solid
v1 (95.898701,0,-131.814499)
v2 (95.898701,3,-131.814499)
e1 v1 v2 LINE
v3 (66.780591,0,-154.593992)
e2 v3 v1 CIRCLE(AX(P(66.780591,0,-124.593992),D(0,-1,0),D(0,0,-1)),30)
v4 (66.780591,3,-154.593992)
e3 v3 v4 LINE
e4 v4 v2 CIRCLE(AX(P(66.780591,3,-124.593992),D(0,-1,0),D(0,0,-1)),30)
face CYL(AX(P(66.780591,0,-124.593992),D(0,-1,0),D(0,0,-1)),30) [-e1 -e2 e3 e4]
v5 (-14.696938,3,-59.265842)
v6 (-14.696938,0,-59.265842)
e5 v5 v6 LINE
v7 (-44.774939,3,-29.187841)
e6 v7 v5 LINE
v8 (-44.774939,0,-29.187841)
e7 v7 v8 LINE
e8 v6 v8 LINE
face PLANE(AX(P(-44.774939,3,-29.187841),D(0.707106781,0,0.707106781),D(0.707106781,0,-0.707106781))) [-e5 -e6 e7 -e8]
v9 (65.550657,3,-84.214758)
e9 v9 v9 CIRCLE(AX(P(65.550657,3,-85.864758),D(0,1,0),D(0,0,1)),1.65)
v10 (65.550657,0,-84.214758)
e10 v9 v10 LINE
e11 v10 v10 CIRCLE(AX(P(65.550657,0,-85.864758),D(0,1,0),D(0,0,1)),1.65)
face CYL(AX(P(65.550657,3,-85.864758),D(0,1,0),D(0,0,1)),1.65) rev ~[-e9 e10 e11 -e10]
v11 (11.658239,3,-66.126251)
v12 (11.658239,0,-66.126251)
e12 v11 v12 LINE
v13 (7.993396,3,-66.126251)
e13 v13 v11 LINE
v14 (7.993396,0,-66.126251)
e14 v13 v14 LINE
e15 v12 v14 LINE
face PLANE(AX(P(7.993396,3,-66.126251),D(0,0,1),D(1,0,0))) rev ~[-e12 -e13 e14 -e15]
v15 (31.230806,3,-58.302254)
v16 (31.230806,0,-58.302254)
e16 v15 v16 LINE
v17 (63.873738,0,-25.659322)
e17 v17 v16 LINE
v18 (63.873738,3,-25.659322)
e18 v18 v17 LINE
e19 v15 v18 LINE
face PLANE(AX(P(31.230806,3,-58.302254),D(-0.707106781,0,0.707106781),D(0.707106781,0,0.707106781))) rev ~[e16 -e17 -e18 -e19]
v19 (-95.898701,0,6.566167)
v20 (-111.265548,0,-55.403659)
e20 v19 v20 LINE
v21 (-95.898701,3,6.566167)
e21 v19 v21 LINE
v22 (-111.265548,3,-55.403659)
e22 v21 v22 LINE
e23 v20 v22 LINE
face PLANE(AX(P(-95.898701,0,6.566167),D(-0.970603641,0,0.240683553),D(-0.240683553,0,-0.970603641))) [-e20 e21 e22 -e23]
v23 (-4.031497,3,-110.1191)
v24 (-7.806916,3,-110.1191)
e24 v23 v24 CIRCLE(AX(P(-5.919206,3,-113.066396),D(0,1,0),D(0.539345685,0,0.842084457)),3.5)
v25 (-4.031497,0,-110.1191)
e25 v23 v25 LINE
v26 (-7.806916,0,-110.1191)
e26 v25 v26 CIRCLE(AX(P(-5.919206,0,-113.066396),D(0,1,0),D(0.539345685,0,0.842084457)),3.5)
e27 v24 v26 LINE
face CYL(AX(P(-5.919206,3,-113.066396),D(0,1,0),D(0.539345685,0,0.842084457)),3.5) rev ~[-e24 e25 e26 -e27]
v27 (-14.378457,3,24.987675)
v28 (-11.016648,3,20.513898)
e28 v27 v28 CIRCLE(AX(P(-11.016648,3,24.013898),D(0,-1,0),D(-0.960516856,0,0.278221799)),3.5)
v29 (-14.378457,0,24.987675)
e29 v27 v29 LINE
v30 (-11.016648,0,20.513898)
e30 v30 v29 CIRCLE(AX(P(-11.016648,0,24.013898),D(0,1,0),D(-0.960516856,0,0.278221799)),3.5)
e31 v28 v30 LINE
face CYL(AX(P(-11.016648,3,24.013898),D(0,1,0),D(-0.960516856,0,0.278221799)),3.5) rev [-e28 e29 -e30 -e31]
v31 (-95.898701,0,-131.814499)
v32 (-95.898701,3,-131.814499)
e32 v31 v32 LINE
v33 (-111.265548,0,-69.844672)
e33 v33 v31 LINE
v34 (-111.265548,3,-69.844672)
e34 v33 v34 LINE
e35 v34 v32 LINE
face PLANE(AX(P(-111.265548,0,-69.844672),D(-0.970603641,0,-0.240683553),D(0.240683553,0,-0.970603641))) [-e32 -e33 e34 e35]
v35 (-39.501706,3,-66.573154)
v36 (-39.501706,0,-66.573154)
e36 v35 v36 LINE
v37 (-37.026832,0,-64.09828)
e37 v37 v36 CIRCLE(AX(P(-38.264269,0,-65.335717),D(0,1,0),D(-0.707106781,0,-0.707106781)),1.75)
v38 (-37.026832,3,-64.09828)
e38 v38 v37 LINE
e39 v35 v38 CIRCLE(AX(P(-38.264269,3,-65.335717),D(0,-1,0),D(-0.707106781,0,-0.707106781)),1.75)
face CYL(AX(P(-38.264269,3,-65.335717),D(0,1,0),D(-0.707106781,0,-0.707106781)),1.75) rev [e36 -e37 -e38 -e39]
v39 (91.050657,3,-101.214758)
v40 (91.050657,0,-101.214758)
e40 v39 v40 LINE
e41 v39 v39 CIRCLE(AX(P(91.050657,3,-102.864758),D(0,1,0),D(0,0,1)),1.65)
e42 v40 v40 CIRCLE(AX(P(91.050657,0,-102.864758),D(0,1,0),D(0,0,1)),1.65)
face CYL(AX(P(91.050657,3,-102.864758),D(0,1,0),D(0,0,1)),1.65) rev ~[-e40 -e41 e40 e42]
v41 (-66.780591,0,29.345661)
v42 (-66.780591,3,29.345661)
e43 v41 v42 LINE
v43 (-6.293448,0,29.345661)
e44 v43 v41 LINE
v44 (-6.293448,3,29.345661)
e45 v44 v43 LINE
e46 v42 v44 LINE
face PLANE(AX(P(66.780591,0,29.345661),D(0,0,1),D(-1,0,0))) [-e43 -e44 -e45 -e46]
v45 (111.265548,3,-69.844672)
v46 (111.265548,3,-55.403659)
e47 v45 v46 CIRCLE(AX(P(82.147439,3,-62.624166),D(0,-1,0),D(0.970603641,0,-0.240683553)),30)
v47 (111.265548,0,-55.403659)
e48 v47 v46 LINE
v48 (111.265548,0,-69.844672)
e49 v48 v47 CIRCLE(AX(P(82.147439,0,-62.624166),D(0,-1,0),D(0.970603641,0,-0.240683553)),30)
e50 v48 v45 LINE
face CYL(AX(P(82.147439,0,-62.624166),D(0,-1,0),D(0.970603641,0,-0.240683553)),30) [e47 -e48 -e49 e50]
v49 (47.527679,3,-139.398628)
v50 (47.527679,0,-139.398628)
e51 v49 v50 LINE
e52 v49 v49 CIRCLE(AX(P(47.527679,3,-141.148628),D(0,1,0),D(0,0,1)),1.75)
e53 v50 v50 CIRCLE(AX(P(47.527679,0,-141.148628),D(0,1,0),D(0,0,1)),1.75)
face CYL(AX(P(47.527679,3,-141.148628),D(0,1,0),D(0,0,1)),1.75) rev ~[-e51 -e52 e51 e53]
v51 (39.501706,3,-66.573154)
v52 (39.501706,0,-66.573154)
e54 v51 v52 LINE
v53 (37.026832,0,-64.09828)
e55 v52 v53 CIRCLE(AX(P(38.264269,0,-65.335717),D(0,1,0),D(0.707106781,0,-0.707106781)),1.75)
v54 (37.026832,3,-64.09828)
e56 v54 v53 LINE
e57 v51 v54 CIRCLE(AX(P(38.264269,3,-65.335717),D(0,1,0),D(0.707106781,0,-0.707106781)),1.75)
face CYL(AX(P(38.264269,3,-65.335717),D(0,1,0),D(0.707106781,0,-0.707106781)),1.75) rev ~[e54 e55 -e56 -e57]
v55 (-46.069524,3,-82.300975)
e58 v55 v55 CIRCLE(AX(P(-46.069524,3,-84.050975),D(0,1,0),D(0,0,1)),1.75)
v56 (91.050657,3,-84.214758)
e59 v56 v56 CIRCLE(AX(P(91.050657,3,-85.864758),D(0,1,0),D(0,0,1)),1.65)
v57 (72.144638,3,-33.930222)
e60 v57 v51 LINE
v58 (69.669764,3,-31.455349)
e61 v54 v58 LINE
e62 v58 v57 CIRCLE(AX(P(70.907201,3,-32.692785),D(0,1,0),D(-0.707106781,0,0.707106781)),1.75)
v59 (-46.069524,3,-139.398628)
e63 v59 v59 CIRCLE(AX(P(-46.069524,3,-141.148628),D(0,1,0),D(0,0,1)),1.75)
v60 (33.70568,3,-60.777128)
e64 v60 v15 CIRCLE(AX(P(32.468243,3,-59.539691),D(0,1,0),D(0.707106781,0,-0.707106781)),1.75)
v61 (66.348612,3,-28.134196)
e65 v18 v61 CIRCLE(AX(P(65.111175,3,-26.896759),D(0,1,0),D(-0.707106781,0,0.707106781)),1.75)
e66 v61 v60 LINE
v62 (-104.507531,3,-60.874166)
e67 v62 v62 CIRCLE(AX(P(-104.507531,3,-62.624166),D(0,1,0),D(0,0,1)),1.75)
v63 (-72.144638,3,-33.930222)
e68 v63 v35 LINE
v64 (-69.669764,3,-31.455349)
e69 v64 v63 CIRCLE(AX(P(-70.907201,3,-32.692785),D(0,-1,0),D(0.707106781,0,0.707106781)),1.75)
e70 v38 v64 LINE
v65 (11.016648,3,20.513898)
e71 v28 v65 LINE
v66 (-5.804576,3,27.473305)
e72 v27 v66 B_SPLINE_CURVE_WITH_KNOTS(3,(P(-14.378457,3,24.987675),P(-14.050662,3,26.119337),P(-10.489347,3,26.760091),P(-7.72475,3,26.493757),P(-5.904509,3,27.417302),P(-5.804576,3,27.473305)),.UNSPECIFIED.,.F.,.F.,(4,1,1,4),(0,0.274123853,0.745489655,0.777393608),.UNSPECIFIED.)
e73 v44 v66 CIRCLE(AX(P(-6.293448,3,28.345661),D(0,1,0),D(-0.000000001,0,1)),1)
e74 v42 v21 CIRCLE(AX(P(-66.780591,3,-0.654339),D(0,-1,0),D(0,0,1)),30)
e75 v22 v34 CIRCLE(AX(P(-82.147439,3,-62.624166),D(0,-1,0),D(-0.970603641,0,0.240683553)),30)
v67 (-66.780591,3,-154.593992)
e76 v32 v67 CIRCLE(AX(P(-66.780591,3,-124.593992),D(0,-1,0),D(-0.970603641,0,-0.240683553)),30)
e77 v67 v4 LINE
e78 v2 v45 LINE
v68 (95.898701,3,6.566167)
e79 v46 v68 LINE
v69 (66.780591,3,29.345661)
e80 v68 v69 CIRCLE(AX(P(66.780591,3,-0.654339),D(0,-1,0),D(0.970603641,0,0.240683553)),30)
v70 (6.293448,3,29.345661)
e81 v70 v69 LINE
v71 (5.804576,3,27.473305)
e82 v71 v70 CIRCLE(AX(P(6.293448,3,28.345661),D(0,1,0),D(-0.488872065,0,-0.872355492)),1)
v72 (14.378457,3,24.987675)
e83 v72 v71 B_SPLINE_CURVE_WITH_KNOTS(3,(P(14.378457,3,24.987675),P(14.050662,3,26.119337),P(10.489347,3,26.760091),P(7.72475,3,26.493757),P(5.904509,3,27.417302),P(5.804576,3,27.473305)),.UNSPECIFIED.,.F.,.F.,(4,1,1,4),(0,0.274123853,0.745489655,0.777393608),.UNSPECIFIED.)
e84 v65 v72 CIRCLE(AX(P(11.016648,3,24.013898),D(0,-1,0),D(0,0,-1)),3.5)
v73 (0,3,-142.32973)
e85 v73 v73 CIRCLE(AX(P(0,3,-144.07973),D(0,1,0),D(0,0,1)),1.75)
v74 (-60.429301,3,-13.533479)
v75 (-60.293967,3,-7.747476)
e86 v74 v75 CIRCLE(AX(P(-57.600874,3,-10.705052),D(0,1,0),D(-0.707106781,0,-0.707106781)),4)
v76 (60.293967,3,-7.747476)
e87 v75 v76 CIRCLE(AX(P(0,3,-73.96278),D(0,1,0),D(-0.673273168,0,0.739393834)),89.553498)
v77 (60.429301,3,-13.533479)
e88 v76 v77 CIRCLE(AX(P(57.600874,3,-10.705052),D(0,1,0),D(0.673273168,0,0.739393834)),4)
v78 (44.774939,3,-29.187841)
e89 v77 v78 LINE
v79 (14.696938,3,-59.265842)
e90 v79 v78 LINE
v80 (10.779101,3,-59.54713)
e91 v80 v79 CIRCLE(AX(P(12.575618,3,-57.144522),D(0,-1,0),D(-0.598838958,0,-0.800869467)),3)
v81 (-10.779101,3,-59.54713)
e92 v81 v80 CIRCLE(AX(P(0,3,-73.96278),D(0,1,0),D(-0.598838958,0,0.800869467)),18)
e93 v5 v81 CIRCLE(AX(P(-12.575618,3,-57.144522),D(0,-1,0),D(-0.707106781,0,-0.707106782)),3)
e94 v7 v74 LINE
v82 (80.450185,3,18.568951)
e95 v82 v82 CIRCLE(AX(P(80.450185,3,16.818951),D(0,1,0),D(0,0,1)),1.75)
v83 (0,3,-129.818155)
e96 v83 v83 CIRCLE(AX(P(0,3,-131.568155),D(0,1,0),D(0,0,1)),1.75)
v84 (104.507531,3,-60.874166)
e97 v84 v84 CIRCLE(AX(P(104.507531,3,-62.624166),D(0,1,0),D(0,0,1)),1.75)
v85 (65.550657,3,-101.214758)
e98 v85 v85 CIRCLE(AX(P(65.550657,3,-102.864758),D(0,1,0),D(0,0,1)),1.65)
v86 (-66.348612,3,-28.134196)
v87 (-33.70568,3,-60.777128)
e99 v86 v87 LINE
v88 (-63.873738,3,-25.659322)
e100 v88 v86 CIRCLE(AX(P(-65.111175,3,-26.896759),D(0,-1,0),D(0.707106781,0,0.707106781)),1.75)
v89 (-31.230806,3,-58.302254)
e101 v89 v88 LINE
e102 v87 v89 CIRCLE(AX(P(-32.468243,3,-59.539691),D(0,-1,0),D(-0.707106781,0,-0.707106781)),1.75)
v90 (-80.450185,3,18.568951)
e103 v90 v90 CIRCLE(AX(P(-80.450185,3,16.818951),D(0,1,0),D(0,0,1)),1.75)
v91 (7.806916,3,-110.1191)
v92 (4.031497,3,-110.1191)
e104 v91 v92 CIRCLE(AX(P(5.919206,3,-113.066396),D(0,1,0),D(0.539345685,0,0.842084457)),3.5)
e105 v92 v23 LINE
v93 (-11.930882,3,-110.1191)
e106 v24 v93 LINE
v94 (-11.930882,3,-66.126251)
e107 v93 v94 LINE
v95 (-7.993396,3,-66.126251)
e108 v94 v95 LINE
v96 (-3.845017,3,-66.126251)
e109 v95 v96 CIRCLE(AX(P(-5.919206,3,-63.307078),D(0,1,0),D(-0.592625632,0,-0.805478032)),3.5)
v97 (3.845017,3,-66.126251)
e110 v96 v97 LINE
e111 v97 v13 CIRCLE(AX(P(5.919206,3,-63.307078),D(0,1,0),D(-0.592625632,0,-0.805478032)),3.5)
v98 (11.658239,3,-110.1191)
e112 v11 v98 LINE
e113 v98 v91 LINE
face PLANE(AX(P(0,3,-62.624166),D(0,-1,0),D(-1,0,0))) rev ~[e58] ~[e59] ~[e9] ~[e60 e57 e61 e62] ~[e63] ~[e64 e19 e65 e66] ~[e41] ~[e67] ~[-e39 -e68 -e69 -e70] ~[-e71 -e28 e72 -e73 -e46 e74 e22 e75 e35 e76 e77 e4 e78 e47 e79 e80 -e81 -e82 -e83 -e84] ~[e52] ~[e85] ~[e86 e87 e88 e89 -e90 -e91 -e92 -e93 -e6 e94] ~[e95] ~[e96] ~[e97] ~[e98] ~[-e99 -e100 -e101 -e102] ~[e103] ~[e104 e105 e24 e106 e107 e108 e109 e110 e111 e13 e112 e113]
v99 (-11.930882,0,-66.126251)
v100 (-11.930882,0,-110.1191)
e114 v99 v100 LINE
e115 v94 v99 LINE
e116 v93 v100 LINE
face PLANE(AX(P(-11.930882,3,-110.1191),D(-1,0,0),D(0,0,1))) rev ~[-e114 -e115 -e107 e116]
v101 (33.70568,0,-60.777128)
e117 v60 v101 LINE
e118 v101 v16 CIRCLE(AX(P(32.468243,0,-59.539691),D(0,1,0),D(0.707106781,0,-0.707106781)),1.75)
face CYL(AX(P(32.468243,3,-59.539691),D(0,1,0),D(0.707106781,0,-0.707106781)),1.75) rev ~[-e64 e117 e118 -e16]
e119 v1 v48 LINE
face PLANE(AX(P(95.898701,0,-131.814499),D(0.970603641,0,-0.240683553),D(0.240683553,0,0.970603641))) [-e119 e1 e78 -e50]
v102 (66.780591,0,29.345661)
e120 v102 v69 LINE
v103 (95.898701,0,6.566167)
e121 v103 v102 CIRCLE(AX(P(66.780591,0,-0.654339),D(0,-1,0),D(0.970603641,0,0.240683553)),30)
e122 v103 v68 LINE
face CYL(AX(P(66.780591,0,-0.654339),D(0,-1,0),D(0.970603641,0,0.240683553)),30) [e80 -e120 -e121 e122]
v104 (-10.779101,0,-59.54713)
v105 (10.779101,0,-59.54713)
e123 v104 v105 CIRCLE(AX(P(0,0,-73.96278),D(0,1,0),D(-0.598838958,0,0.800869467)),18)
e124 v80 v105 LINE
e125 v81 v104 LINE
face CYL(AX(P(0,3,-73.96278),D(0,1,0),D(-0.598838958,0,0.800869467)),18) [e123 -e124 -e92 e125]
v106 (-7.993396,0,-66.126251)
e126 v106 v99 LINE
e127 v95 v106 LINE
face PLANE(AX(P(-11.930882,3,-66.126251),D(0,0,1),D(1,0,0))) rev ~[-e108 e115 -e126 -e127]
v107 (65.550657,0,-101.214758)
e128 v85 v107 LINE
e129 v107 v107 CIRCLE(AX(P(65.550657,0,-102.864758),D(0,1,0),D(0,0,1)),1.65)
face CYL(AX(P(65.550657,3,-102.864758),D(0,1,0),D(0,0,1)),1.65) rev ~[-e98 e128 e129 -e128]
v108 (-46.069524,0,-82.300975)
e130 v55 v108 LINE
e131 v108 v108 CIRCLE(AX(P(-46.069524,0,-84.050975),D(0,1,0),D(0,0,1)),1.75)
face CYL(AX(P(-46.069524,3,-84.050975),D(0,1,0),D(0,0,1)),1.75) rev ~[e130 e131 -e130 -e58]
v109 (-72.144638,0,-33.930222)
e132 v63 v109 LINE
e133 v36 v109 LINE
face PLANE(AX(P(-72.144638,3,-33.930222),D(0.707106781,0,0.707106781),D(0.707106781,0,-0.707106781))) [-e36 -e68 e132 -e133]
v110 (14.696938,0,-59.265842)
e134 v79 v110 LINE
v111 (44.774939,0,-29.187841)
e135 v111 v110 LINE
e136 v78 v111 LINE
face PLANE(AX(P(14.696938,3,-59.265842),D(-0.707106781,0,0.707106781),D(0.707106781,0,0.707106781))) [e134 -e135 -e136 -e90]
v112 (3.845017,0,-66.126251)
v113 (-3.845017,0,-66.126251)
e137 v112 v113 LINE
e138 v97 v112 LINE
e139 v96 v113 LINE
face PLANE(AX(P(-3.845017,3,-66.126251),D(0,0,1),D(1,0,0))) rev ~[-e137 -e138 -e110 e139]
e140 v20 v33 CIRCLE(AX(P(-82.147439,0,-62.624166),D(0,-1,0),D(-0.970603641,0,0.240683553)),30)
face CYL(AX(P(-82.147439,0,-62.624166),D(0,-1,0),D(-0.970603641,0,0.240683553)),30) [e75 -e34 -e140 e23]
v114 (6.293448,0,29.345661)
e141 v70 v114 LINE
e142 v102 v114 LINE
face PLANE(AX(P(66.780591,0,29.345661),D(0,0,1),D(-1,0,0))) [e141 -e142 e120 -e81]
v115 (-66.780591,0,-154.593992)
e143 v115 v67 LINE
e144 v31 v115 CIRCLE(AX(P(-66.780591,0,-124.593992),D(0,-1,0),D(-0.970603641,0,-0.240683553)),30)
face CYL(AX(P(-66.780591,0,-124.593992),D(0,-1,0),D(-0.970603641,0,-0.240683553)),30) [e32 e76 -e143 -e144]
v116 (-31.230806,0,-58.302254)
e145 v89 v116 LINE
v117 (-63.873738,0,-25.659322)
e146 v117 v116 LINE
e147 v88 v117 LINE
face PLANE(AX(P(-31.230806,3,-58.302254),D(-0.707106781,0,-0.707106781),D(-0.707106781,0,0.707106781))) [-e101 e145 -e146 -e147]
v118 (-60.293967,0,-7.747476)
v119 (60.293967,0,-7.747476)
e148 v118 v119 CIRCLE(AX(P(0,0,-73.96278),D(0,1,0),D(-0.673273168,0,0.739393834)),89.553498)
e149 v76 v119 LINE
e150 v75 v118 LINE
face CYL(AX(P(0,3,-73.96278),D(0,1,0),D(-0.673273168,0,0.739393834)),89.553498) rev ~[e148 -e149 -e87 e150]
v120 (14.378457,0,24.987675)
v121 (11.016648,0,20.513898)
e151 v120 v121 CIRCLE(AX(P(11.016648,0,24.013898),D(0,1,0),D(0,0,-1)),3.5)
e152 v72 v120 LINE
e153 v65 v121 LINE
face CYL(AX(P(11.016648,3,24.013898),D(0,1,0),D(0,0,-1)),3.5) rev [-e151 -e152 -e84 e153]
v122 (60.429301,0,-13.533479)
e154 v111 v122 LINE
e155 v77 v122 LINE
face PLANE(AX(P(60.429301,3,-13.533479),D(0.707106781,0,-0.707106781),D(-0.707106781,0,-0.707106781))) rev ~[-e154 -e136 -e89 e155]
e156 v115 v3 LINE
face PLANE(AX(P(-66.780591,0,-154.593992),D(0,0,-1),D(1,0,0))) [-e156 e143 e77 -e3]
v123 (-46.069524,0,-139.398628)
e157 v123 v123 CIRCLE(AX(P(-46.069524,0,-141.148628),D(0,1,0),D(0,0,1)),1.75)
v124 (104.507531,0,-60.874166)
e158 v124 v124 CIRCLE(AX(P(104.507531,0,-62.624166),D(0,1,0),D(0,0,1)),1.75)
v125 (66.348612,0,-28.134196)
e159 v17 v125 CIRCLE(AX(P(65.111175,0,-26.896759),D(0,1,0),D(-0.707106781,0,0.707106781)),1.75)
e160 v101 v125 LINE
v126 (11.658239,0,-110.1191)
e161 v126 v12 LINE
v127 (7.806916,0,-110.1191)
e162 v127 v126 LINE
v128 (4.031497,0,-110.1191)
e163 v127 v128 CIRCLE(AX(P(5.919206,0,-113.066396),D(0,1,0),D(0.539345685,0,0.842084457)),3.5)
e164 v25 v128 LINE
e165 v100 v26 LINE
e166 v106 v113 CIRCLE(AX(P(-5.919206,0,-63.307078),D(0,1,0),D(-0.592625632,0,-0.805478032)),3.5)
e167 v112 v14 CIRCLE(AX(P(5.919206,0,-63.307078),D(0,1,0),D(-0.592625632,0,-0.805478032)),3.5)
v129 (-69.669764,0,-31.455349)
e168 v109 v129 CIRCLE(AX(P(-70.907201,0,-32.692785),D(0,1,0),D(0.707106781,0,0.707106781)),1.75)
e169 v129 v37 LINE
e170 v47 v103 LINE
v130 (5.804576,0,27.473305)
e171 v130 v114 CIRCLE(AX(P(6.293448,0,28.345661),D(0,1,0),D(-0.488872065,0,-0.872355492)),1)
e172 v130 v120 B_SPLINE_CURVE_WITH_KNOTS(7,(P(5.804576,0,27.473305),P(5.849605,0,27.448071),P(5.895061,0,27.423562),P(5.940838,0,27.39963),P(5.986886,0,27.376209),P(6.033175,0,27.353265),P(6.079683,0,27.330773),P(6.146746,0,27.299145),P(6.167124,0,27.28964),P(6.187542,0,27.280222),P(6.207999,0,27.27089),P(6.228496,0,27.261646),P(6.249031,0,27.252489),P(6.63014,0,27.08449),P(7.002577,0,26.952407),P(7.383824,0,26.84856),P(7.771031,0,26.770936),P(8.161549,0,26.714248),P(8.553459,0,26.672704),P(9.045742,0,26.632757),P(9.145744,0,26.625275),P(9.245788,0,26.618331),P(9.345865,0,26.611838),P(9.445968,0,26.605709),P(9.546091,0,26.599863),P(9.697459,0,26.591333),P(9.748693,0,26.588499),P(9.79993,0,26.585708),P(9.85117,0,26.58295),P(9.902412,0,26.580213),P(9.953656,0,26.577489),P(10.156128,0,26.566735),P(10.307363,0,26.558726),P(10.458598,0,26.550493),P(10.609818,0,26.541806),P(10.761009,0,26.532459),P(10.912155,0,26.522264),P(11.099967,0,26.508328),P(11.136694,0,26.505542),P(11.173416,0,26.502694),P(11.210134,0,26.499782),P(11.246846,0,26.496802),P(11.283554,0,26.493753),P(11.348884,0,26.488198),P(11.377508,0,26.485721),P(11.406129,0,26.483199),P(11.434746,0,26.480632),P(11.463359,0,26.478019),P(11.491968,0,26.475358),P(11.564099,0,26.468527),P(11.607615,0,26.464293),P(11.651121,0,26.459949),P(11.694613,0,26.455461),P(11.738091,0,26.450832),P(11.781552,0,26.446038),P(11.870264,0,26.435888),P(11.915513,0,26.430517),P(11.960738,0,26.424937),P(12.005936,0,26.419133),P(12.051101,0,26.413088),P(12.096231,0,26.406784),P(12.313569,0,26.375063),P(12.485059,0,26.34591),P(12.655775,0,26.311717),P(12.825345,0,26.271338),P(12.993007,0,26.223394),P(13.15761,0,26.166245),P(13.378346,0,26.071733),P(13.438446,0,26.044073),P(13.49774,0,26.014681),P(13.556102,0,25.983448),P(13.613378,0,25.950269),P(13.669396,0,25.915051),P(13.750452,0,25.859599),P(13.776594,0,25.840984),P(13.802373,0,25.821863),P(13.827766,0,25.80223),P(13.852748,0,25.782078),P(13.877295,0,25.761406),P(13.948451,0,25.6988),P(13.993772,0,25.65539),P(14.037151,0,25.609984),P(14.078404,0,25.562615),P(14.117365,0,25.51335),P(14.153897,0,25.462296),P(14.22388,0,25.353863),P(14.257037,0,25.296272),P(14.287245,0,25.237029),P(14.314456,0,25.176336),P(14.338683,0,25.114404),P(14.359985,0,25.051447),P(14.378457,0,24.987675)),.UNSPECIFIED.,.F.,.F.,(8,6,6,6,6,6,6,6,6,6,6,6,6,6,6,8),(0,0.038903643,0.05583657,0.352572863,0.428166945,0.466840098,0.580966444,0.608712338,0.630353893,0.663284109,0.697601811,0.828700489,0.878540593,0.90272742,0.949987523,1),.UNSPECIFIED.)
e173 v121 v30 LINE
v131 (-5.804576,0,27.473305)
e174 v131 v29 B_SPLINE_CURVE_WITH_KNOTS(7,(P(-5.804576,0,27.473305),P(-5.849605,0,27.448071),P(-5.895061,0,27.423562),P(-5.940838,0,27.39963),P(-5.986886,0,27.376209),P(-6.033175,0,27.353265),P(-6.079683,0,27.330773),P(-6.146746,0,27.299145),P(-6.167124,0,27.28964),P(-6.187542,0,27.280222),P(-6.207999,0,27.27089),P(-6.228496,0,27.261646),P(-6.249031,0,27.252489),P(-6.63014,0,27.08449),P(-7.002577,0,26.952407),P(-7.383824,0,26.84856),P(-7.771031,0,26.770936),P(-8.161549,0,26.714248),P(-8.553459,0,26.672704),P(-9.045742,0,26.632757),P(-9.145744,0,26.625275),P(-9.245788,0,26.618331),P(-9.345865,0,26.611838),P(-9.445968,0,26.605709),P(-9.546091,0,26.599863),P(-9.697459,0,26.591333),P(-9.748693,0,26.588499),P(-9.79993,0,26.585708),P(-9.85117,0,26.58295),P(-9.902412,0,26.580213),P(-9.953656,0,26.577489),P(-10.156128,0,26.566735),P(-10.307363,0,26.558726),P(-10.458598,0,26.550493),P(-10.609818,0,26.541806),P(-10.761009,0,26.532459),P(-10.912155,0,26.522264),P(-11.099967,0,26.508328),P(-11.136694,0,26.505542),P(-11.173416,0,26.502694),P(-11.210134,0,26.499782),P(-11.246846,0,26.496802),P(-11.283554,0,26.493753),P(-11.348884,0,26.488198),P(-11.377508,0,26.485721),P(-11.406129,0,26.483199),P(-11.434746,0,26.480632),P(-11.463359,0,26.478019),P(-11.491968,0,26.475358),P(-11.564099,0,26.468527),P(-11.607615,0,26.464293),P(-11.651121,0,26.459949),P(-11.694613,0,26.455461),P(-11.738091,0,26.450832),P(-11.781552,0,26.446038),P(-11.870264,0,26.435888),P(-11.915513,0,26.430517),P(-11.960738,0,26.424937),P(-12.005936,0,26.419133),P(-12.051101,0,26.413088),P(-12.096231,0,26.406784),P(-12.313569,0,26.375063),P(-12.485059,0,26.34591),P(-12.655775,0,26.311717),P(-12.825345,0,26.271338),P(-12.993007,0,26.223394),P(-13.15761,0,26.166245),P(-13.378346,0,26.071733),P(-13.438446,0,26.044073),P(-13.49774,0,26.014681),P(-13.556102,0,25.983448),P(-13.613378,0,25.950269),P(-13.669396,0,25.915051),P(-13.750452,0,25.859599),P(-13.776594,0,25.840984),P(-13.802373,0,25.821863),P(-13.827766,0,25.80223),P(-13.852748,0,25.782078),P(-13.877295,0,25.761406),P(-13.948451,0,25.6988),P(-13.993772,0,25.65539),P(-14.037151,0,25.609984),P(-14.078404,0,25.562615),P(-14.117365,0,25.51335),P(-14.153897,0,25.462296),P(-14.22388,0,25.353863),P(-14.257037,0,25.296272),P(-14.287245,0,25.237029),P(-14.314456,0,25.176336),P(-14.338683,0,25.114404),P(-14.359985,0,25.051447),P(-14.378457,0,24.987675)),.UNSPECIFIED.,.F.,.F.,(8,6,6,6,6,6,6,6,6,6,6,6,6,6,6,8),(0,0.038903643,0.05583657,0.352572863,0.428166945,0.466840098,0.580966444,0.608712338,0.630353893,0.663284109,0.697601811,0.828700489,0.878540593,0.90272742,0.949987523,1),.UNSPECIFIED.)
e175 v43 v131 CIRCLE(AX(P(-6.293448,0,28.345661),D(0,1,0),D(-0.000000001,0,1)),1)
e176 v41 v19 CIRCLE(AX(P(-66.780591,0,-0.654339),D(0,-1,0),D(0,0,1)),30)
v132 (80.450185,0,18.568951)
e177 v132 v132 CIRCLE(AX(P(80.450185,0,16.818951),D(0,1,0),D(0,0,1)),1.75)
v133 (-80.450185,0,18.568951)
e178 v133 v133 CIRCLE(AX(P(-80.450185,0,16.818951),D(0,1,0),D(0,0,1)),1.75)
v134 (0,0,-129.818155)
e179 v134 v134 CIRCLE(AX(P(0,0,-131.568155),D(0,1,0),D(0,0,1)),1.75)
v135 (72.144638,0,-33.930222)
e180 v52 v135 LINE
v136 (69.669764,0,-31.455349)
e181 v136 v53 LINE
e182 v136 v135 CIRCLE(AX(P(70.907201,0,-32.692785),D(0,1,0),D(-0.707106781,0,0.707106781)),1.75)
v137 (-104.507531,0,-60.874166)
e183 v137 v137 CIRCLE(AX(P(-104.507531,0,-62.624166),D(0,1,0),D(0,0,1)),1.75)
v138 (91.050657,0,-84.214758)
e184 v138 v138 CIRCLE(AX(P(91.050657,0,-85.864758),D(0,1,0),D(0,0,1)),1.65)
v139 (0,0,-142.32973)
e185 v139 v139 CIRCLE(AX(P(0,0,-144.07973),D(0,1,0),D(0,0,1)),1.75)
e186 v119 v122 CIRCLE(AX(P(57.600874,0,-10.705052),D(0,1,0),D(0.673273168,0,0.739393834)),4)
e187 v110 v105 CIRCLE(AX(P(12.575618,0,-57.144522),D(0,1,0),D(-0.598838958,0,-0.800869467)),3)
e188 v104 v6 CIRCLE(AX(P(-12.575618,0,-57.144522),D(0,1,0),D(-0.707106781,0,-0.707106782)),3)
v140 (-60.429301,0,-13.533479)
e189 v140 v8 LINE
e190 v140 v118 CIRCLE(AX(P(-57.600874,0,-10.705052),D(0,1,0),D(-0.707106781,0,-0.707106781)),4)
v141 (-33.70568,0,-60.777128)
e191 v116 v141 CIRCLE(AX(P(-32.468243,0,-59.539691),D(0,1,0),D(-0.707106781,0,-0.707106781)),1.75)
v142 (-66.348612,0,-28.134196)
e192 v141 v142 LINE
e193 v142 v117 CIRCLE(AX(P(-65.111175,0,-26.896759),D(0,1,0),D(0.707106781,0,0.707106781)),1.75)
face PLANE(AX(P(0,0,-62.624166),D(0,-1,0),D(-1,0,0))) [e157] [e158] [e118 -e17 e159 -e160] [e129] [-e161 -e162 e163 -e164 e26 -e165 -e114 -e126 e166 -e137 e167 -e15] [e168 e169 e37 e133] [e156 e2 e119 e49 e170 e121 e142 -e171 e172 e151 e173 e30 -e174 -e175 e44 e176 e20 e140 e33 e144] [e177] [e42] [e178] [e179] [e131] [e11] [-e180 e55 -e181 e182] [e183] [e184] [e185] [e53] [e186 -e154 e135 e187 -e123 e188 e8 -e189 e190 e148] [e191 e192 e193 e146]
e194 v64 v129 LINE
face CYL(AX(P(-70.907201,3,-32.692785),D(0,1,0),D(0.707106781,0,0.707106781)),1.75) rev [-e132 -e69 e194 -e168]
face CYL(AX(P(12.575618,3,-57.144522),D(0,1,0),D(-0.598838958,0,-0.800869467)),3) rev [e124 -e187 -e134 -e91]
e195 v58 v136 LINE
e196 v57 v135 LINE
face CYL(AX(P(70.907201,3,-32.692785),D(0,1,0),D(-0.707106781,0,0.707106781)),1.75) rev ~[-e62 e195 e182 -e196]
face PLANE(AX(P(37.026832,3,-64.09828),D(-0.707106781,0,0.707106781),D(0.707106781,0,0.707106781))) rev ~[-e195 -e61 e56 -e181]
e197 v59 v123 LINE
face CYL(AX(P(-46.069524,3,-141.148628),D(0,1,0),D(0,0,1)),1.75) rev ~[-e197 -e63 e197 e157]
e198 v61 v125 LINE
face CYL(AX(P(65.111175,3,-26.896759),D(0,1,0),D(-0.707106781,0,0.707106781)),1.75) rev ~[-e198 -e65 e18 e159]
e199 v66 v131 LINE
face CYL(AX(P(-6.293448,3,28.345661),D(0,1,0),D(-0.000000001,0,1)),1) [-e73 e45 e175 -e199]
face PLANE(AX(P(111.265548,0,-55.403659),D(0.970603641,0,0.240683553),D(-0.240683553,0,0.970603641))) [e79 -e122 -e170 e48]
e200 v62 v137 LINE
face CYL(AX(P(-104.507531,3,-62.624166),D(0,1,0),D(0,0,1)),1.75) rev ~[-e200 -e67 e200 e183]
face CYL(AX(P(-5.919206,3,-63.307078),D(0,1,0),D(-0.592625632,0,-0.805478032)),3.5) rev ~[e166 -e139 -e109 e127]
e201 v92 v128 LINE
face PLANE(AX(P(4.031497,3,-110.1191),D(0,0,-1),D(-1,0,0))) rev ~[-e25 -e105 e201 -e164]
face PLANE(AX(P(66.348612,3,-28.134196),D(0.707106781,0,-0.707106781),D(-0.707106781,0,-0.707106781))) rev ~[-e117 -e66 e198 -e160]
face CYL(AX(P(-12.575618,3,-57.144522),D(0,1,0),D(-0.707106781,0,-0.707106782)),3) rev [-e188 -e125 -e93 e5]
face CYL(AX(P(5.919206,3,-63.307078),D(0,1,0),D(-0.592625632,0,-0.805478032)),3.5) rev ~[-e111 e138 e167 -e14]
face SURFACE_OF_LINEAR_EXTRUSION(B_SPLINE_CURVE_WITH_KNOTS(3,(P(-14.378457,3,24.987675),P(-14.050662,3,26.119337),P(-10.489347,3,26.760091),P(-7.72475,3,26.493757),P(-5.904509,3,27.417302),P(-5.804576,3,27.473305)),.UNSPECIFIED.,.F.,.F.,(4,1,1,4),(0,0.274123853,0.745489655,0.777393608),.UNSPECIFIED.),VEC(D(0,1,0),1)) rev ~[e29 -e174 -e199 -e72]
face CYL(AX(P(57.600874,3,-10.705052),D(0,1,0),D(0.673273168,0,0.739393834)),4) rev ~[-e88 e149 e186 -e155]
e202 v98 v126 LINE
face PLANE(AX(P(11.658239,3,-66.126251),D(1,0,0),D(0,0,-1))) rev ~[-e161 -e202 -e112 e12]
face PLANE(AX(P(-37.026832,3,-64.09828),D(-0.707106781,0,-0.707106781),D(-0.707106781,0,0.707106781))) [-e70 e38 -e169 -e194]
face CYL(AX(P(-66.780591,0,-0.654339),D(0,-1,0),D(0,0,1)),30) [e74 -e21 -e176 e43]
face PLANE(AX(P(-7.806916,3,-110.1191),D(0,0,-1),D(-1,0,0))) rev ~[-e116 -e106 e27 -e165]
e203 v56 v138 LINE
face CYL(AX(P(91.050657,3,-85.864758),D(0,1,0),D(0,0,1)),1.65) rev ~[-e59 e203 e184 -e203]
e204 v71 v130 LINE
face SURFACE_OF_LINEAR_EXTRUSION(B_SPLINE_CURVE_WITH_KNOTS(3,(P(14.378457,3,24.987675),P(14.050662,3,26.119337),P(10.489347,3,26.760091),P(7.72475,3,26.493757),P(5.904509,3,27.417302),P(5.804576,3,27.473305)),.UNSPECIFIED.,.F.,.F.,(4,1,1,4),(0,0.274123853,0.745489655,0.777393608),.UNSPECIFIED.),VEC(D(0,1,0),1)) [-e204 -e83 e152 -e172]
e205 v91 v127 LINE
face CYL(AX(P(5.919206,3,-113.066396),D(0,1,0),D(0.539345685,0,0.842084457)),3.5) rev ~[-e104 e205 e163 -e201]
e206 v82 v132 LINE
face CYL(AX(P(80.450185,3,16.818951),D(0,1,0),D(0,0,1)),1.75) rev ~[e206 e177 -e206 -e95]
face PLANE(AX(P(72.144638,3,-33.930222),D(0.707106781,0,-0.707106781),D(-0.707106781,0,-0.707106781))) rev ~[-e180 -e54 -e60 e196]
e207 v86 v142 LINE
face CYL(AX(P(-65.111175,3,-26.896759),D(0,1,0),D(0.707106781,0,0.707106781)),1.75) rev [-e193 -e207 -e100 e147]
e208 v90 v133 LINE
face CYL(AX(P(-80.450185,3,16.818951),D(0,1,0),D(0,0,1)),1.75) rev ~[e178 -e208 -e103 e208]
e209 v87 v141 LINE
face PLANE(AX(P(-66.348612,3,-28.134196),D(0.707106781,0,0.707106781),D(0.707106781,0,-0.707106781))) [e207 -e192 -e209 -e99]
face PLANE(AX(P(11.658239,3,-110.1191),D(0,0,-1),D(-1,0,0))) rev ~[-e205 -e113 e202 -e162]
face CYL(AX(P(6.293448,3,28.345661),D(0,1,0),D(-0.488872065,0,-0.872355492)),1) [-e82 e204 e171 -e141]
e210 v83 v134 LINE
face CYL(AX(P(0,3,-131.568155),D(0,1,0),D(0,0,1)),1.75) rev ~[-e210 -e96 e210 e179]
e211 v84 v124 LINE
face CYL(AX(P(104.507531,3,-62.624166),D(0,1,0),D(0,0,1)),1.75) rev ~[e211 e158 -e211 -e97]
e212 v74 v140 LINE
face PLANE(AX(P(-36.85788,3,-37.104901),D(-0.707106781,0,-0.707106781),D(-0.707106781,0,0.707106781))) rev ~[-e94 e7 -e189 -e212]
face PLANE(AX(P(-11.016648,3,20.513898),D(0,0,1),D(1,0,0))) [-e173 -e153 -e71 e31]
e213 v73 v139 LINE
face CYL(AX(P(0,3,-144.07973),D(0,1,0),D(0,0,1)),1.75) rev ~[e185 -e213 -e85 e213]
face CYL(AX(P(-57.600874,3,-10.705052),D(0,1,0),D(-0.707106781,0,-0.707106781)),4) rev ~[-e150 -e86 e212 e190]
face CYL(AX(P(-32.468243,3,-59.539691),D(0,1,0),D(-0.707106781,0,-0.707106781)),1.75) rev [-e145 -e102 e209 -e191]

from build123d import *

# Parameters (mm, degrees)
EXTRUDE_1_DEPTH      = 3
SKETCH_2_R           = 1.75
CUT_EXTRUDE_1_DEPTH  = 10
CUT_EXTRUDE_2_DEPTH  = 10
CUT_EXTRUDE_3_DEPTH  = 10
SKETCH_5_R           = 1.75
CUT_EXTRUDE_4_DEPTH  = 10
SKETCH_6_R           = 1.65
CUT_EXTRUDE_5_DEPTH  = 10
CUT_EXTRUDE_8_DEPTH  = 10
CUT_EXTRUDE_9_DEPTH  = 10
CUT_EXTRUDE_10_DEPTH = 10


with BuildPart() as part:
    # 草图1 → 凸台-拉伸1 (new body)
    with BuildSketch(Plane(origin=(0, 0, 0), x_dir=(1, 0, 0), z_dir=(0, 1, 0))):
        with BuildLine():
            Line((-66.78059141, 154.593992167), (66.78059141, 154.593992167))
            ThreePointArc((66.78059141, 154.593992167), (85.265515034, 148.222525736), (95.898700635, 131.814498742))
            Line((95.898700635, 131.814498742), (111.265547961, 69.844672358))
            ThreePointArc((111.265547961, 69.844672358), (112.147438737, 62.624165782), (111.265547961, 55.403659207))
            Line((111.265547961, 55.403659207), (95.898700635, -6.566167178))
            ThreePointArc((95.898700635, -6.566167178), (85.265515034, -22.974194171), (66.78059141, -29.345660602))
            Line((66.78059141, -29.345660602), (-66.78059141, -29.345660602))
            ThreePointArc((-66.78059141, -29.345660602), (-85.265515034, -22.974194171), (-95.898700635, -6.566167178))
            Line((-95.898700635, -6.566167178), (-111.265547961, 55.403659207))
            ThreePointArc((-111.265547961, 55.403659207), (-112.147438737, 62.624165782), (-111.265547961, 69.844672358))
            Line((-111.265547961, 69.844672358), (-95.898700635, 131.814498742))
            ThreePointArc((-95.898700635, 131.814498742), (-85.265515034, 148.222525736), (-66.78059141, 154.593992167))
        make_face()
    extrude(amount=EXTRUDE_1_DEPTH)

    # 草图2 → 切除-拉伸1 (cut)
    with BuildSketch(Plane(origin=(0, 3, 0), x_dir=(1, 0, 0), z_dir=(0, 1, 0))):
        with Locations(Location((104.507530951, 62.624165782, 0), (0, 0, 270))):
            Circle(SKETCH_2_R)
        with Locations(Location((80.450184708, -16.818951307, 0), (0, 0, 270))):
            Circle(SKETCH_2_R)
        with Locations(Location((-80.450184708, -16.818951307, 0), (0, 0, 270))):
            Circle(SKETCH_2_R)
        with Locations(Location((-104.507530951, 62.624165782, 0), (0, 0, 270))):
            Circle(SKETCH_2_R)
        with Locations(Location((0, 144.079729864, 0), (0, 0, 270))):
            Circle(SKETCH_2_R)
        with Locations(Location((0, 131.568155221, 0), (0, 0, 270))):
            Circle(SKETCH_2_R)
    extrude(amount=-CUT_EXTRUDE_1_DEPTH, mode=Mode.SUBTRACT)

    # 草图3 → 切除-拉伸2 (cut)
    with BuildSketch(Plane(origin=(0, 3, 0), x_dir=(1, 0, 0), z_dir=(0, 1, 0))):
        with BuildLine():
            Line((14.696938457, 59.265841846), (44.774939174, 29.187841128))
            ThreePointArc((44.774939174, 29.187841128), (45.652778395, 26.995514412), (44.672172354, 24.847187174))
            ThreePointArc((44.672172354, 24.847187174), (0, 7.570427798), (-44.672172354, 24.847187174))
            ThreePointArc((-44.672172354, 24.847187174), (-45.652778395, 26.995514412), (-44.774939174, 29.187841128))
            Line((-44.774939174, 29.187841128), (-14.696938457, 59.265841846))
            ThreePointArc((-14.696938457, 59.265841846), (-12.790455415, 60.136819103), (-10.77910124, 59.547129902))
            ThreePointArc((-10.77910124, 59.547129902), (0, 55.962780302), (10.77910124, 59.547129902))
            ThreePointArc((10.77910124, 59.547129902), (12.790455415, 60.136819103), (14.696938457, 59.265841846))
        make_face()
    extrude(amount=-CUT_EXTRUDE_2_DEPTH, mode=Mode.SUBTRACT)

    # 草图4 → 切除-拉伸3 (cut)
    with BuildSketch(Plane(origin=(0, 3, 0), x_dir=(1, 0, 0), z_dir=(0, 1, 0))):
        with BuildLine():
            Line((-36.857879598, 37.104900704), (-60.429301447, 13.533478855))
            ThreePointArc((-60.429301447, 13.533478855), (-61.599780589, 10.611517412), (-60.293966994, 7.747476395))
            ThreePointArc((-60.293966994, 7.747476395), (0, -15.59071727), (60.293966994, 7.747476395))
            ThreePointArc((60.293966994, 7.747476395), (61.599780589, 10.611517412), (60.429301447, 13.533478855))
            Line((60.429301447, 13.533478855), (36.857879598, 37.104900704))
            Line((36.857879598, 37.104900704), (-36.857879598, 37.104900704))
        make_face()
    extrude(amount=-CUT_EXTRUDE_3_DEPTH, mode=Mode.SUBTRACT)

    # 草图5 → 切除-拉伸4 (cut)
    with BuildSketch(Plane(origin=(0, 3, 0), x_dir=(1, 0, 0), z_dir=(0, 1, 0))):
        with Locations(Location((47.527679448, 141.148627896, 0), (0, 0, 270))):
            Circle(SKETCH_5_R)
        with Locations(Location((-46.069524323, 84.050974576, 0), (0, 0, 270))):
            Circle(SKETCH_5_R)
        with Locations(Location((-46.069524323, 141.148627896, 0), (0, 0, 270))):
            Circle(SKETCH_5_R)
    extrude(amount=-CUT_EXTRUDE_4_DEPTH, mode=Mode.SUBTRACT)

    # 草图6 → 切除-拉伸5 (cut)
    with BuildSketch(Plane(origin=(0, 3, 0), x_dir=(1, 0, 0), z_dir=(0, 1, 0))):
        with Locations(Location((65.550657258, 102.864758009, 0), (0, 0, 270))):
            Circle(SKETCH_6_R)
        with Locations(Location((91.050657258, 102.864758009, 0), (0, 0, 270))):
            Circle(SKETCH_6_R)
        with Locations(Location((91.050657258, 85.864758009, 0), (0, 0, 270))):
            Circle(SKETCH_6_R)
        with Locations(Location((65.550657258, 85.864758009, 0), (0, 0, 270))):
            Circle(SKETCH_6_R)
    extrude(amount=-CUT_EXTRUDE_5_DEPTH, mode=Mode.SUBTRACT)

    # 草图7 → 切除-拉伸8 (cut)
    with BuildSketch(Plane(origin=(0, 3, 0), x_dir=(1, 0, 0), z_dir=(0, 1, 0))):
        with BuildLine():
            Line((-11.016648097, -20.513898252), (11.016648097, -20.513898252))
            ThreePointArc((11.016648097, -20.513898252), (13.814702514, -21.911306641), (14.378457093, -24.987674549))
            add(Edge.make_bspline(
                [(14.378457093, -24.987674549), (14.050661547, -26.11933694), (10.489346867, -26.76009099), (7.724749574, -26.493757466), (5.904508816, -27.417302496), (5.804576355, -27.473305111)],
                knots=[0, 0, 0, 0, 0.274123853, 0.745489655, 0.777393608, 0.777393608, 0.777393608, 0.777393608], degree=3))
            ThreePointArc((5.804576355, -27.473305111), (5.325885634, -28.59829127), (6.293448421, -29.345660602))
            Line((6.293448421, -29.345660602), (8.755585002, -29.345660602))
            Line((8.755585002, -29.345660602), (8.755585002, -31.412448424))
            Line((8.755585002, -31.412448424), (-8.755585002, -31.412448424))
            Line((-8.755585002, -31.412448424), (-8.755585002, -29.804465611))
            Line((-8.755585002, -29.804465611), (-8.755585002, -29.345660602))
            Line((-8.755585002, -29.345660602), (-6.293448421, -29.345660602))
            ThreePointArc((-6.293448421, -29.345660602), (-5.325885634, -28.59829127), (-5.804576355, -27.473305111))
            add(Edge.make_bspline(
                [(-14.378457093, -24.987674549), (-14.050661547, -26.11933694), (-10.489346867, -26.76009099), (-7.724749574, -26.493757466), (-5.904508816, -27.417302496), (-5.804576355, -27.473305111)],
                knots=[0, 0, 0, 0, 0.274123853, 0.745489655, 0.777393608, 0.777393608, 0.777393608, 0.777393608], degree=3))
            ThreePointArc((-14.378457093, -24.987674549), (-13.814702514, -21.911306641), (-11.016648097, -20.513898252))
        make_face()
    extrude(amount=-CUT_EXTRUDE_8_DEPTH, mode=Mode.SUBTRACT)

    # 草图8 → 切除-拉伸9 (cut)
    with BuildSketch(Plane(origin=(0, 3, 0), x_dir=(1, 0, 0), z_dir=(0, 1, 0))):
        with BuildLine():
            Line((-31.230806012, 58.302254227), (-63.873737866, 25.659322373))
            ThreePointArc((-63.873737866, 25.659322373), (-66.3486116, 25.659322373), (-66.3486116, 28.134196107))
            Line((-66.3486116, 28.134196107), (-33.705679746, 60.777127961))
            ThreePointArc((-33.705679746, 60.777127961), (-31.230806012, 60.777127961), (-31.230806012, 58.302254227))
        make_face()
        with BuildLine():
            Line((-37.026832233, 64.098280448), (-69.669764087, 31.455348594))
            ThreePointArc((-69.669764087, 31.455348594), (-72.144637821, 31.455348594), (-72.144637821, 33.930222328))
            Line((-72.144637821, 33.930222328), (-39.501705967, 66.573154182))
            ThreePointArc((-39.501705967, 66.573154182), (-37.026832233, 66.573154182), (-37.026832233, 64.098280448))
        make_face()
        with BuildLine():
            Line((37.026832233, 64.098280448), (69.669764087, 31.455348594))
            ThreePointArc((69.669764087, 31.455348594), (72.144637821, 31.455348594), (72.144637821, 33.930222328))
            Line((72.144637821, 33.930222328), (39.501705967, 66.573154182))
            ThreePointArc((39.501705967, 66.573154182), (37.026832233, 66.573154182), (37.026832233, 64.098280448))
        make_face()
        with BuildLine():
            Line((31.230806012, 58.302254227), (63.873737866, 25.659322373))
            ThreePointArc((63.873737866, 25.659322373), (66.3486116, 25.659322373), (66.3486116, 28.134196107))
            Line((66.3486116, 28.134196107), (33.705679746, 60.777127961))
            ThreePointArc((33.705679746, 60.777127961), (31.230806012, 60.777127961), (31.230806012, 58.302254227))
        make_face()
    extrude(amount=-CUT_EXTRUDE_9_DEPTH, mode=Mode.SUBTRACT)

    # 草图9 → 切除-拉伸10 (cut)
    with BuildSketch(Plane(origin=(0, 3, 0), x_dir=(1, 0, 0), z_dir=(0, 1, 0))):
        with BuildLine():
            Line((-3.845016723, 66.126250856), (3.845016723, 66.126250856))
            ThreePointArc((3.845016723, 66.126250856), (5.919206434, 59.807077742), (7.993396144, 66.126250856))
            Line((7.993396144, 66.126250856), (11.658238607, 66.126250856))
            Line((11.658238607, 66.126250856), (11.658238607, 110.119100398))
            Line((11.658238607, 110.119100398), (7.806916331, 110.119100398))
            ThreePointArc((7.806916331, 110.119100398), (5.919206434, 116.566395996), (4.031496536, 110.119100398))
            Line((4.031496536, 110.119100398), (-4.031496536, 110.119100398))
            ThreePointArc((-4.031496536, 110.119100398), (-5.919206434, 116.566395996), (-7.806916331, 110.119100398))
            Line((-7.806916331, 110.119100398), (-11.930882282, 110.119100398))
            Line((-11.930882282, 110.119100398), (-11.930882282, 66.126250856))
            Line((-11.930882282, 66.126250856), (-7.993396144, 66.126250856))
            ThreePointArc((-7.993396144, 66.126250856), (-5.919206434, 59.807077742), (-3.845016723, 66.126250856))
        make_face()
    extrude(amount=-CUT_EXTRUDE_10_DEPTH, mode=Mode.SUBTRACT)


solid = part.part
